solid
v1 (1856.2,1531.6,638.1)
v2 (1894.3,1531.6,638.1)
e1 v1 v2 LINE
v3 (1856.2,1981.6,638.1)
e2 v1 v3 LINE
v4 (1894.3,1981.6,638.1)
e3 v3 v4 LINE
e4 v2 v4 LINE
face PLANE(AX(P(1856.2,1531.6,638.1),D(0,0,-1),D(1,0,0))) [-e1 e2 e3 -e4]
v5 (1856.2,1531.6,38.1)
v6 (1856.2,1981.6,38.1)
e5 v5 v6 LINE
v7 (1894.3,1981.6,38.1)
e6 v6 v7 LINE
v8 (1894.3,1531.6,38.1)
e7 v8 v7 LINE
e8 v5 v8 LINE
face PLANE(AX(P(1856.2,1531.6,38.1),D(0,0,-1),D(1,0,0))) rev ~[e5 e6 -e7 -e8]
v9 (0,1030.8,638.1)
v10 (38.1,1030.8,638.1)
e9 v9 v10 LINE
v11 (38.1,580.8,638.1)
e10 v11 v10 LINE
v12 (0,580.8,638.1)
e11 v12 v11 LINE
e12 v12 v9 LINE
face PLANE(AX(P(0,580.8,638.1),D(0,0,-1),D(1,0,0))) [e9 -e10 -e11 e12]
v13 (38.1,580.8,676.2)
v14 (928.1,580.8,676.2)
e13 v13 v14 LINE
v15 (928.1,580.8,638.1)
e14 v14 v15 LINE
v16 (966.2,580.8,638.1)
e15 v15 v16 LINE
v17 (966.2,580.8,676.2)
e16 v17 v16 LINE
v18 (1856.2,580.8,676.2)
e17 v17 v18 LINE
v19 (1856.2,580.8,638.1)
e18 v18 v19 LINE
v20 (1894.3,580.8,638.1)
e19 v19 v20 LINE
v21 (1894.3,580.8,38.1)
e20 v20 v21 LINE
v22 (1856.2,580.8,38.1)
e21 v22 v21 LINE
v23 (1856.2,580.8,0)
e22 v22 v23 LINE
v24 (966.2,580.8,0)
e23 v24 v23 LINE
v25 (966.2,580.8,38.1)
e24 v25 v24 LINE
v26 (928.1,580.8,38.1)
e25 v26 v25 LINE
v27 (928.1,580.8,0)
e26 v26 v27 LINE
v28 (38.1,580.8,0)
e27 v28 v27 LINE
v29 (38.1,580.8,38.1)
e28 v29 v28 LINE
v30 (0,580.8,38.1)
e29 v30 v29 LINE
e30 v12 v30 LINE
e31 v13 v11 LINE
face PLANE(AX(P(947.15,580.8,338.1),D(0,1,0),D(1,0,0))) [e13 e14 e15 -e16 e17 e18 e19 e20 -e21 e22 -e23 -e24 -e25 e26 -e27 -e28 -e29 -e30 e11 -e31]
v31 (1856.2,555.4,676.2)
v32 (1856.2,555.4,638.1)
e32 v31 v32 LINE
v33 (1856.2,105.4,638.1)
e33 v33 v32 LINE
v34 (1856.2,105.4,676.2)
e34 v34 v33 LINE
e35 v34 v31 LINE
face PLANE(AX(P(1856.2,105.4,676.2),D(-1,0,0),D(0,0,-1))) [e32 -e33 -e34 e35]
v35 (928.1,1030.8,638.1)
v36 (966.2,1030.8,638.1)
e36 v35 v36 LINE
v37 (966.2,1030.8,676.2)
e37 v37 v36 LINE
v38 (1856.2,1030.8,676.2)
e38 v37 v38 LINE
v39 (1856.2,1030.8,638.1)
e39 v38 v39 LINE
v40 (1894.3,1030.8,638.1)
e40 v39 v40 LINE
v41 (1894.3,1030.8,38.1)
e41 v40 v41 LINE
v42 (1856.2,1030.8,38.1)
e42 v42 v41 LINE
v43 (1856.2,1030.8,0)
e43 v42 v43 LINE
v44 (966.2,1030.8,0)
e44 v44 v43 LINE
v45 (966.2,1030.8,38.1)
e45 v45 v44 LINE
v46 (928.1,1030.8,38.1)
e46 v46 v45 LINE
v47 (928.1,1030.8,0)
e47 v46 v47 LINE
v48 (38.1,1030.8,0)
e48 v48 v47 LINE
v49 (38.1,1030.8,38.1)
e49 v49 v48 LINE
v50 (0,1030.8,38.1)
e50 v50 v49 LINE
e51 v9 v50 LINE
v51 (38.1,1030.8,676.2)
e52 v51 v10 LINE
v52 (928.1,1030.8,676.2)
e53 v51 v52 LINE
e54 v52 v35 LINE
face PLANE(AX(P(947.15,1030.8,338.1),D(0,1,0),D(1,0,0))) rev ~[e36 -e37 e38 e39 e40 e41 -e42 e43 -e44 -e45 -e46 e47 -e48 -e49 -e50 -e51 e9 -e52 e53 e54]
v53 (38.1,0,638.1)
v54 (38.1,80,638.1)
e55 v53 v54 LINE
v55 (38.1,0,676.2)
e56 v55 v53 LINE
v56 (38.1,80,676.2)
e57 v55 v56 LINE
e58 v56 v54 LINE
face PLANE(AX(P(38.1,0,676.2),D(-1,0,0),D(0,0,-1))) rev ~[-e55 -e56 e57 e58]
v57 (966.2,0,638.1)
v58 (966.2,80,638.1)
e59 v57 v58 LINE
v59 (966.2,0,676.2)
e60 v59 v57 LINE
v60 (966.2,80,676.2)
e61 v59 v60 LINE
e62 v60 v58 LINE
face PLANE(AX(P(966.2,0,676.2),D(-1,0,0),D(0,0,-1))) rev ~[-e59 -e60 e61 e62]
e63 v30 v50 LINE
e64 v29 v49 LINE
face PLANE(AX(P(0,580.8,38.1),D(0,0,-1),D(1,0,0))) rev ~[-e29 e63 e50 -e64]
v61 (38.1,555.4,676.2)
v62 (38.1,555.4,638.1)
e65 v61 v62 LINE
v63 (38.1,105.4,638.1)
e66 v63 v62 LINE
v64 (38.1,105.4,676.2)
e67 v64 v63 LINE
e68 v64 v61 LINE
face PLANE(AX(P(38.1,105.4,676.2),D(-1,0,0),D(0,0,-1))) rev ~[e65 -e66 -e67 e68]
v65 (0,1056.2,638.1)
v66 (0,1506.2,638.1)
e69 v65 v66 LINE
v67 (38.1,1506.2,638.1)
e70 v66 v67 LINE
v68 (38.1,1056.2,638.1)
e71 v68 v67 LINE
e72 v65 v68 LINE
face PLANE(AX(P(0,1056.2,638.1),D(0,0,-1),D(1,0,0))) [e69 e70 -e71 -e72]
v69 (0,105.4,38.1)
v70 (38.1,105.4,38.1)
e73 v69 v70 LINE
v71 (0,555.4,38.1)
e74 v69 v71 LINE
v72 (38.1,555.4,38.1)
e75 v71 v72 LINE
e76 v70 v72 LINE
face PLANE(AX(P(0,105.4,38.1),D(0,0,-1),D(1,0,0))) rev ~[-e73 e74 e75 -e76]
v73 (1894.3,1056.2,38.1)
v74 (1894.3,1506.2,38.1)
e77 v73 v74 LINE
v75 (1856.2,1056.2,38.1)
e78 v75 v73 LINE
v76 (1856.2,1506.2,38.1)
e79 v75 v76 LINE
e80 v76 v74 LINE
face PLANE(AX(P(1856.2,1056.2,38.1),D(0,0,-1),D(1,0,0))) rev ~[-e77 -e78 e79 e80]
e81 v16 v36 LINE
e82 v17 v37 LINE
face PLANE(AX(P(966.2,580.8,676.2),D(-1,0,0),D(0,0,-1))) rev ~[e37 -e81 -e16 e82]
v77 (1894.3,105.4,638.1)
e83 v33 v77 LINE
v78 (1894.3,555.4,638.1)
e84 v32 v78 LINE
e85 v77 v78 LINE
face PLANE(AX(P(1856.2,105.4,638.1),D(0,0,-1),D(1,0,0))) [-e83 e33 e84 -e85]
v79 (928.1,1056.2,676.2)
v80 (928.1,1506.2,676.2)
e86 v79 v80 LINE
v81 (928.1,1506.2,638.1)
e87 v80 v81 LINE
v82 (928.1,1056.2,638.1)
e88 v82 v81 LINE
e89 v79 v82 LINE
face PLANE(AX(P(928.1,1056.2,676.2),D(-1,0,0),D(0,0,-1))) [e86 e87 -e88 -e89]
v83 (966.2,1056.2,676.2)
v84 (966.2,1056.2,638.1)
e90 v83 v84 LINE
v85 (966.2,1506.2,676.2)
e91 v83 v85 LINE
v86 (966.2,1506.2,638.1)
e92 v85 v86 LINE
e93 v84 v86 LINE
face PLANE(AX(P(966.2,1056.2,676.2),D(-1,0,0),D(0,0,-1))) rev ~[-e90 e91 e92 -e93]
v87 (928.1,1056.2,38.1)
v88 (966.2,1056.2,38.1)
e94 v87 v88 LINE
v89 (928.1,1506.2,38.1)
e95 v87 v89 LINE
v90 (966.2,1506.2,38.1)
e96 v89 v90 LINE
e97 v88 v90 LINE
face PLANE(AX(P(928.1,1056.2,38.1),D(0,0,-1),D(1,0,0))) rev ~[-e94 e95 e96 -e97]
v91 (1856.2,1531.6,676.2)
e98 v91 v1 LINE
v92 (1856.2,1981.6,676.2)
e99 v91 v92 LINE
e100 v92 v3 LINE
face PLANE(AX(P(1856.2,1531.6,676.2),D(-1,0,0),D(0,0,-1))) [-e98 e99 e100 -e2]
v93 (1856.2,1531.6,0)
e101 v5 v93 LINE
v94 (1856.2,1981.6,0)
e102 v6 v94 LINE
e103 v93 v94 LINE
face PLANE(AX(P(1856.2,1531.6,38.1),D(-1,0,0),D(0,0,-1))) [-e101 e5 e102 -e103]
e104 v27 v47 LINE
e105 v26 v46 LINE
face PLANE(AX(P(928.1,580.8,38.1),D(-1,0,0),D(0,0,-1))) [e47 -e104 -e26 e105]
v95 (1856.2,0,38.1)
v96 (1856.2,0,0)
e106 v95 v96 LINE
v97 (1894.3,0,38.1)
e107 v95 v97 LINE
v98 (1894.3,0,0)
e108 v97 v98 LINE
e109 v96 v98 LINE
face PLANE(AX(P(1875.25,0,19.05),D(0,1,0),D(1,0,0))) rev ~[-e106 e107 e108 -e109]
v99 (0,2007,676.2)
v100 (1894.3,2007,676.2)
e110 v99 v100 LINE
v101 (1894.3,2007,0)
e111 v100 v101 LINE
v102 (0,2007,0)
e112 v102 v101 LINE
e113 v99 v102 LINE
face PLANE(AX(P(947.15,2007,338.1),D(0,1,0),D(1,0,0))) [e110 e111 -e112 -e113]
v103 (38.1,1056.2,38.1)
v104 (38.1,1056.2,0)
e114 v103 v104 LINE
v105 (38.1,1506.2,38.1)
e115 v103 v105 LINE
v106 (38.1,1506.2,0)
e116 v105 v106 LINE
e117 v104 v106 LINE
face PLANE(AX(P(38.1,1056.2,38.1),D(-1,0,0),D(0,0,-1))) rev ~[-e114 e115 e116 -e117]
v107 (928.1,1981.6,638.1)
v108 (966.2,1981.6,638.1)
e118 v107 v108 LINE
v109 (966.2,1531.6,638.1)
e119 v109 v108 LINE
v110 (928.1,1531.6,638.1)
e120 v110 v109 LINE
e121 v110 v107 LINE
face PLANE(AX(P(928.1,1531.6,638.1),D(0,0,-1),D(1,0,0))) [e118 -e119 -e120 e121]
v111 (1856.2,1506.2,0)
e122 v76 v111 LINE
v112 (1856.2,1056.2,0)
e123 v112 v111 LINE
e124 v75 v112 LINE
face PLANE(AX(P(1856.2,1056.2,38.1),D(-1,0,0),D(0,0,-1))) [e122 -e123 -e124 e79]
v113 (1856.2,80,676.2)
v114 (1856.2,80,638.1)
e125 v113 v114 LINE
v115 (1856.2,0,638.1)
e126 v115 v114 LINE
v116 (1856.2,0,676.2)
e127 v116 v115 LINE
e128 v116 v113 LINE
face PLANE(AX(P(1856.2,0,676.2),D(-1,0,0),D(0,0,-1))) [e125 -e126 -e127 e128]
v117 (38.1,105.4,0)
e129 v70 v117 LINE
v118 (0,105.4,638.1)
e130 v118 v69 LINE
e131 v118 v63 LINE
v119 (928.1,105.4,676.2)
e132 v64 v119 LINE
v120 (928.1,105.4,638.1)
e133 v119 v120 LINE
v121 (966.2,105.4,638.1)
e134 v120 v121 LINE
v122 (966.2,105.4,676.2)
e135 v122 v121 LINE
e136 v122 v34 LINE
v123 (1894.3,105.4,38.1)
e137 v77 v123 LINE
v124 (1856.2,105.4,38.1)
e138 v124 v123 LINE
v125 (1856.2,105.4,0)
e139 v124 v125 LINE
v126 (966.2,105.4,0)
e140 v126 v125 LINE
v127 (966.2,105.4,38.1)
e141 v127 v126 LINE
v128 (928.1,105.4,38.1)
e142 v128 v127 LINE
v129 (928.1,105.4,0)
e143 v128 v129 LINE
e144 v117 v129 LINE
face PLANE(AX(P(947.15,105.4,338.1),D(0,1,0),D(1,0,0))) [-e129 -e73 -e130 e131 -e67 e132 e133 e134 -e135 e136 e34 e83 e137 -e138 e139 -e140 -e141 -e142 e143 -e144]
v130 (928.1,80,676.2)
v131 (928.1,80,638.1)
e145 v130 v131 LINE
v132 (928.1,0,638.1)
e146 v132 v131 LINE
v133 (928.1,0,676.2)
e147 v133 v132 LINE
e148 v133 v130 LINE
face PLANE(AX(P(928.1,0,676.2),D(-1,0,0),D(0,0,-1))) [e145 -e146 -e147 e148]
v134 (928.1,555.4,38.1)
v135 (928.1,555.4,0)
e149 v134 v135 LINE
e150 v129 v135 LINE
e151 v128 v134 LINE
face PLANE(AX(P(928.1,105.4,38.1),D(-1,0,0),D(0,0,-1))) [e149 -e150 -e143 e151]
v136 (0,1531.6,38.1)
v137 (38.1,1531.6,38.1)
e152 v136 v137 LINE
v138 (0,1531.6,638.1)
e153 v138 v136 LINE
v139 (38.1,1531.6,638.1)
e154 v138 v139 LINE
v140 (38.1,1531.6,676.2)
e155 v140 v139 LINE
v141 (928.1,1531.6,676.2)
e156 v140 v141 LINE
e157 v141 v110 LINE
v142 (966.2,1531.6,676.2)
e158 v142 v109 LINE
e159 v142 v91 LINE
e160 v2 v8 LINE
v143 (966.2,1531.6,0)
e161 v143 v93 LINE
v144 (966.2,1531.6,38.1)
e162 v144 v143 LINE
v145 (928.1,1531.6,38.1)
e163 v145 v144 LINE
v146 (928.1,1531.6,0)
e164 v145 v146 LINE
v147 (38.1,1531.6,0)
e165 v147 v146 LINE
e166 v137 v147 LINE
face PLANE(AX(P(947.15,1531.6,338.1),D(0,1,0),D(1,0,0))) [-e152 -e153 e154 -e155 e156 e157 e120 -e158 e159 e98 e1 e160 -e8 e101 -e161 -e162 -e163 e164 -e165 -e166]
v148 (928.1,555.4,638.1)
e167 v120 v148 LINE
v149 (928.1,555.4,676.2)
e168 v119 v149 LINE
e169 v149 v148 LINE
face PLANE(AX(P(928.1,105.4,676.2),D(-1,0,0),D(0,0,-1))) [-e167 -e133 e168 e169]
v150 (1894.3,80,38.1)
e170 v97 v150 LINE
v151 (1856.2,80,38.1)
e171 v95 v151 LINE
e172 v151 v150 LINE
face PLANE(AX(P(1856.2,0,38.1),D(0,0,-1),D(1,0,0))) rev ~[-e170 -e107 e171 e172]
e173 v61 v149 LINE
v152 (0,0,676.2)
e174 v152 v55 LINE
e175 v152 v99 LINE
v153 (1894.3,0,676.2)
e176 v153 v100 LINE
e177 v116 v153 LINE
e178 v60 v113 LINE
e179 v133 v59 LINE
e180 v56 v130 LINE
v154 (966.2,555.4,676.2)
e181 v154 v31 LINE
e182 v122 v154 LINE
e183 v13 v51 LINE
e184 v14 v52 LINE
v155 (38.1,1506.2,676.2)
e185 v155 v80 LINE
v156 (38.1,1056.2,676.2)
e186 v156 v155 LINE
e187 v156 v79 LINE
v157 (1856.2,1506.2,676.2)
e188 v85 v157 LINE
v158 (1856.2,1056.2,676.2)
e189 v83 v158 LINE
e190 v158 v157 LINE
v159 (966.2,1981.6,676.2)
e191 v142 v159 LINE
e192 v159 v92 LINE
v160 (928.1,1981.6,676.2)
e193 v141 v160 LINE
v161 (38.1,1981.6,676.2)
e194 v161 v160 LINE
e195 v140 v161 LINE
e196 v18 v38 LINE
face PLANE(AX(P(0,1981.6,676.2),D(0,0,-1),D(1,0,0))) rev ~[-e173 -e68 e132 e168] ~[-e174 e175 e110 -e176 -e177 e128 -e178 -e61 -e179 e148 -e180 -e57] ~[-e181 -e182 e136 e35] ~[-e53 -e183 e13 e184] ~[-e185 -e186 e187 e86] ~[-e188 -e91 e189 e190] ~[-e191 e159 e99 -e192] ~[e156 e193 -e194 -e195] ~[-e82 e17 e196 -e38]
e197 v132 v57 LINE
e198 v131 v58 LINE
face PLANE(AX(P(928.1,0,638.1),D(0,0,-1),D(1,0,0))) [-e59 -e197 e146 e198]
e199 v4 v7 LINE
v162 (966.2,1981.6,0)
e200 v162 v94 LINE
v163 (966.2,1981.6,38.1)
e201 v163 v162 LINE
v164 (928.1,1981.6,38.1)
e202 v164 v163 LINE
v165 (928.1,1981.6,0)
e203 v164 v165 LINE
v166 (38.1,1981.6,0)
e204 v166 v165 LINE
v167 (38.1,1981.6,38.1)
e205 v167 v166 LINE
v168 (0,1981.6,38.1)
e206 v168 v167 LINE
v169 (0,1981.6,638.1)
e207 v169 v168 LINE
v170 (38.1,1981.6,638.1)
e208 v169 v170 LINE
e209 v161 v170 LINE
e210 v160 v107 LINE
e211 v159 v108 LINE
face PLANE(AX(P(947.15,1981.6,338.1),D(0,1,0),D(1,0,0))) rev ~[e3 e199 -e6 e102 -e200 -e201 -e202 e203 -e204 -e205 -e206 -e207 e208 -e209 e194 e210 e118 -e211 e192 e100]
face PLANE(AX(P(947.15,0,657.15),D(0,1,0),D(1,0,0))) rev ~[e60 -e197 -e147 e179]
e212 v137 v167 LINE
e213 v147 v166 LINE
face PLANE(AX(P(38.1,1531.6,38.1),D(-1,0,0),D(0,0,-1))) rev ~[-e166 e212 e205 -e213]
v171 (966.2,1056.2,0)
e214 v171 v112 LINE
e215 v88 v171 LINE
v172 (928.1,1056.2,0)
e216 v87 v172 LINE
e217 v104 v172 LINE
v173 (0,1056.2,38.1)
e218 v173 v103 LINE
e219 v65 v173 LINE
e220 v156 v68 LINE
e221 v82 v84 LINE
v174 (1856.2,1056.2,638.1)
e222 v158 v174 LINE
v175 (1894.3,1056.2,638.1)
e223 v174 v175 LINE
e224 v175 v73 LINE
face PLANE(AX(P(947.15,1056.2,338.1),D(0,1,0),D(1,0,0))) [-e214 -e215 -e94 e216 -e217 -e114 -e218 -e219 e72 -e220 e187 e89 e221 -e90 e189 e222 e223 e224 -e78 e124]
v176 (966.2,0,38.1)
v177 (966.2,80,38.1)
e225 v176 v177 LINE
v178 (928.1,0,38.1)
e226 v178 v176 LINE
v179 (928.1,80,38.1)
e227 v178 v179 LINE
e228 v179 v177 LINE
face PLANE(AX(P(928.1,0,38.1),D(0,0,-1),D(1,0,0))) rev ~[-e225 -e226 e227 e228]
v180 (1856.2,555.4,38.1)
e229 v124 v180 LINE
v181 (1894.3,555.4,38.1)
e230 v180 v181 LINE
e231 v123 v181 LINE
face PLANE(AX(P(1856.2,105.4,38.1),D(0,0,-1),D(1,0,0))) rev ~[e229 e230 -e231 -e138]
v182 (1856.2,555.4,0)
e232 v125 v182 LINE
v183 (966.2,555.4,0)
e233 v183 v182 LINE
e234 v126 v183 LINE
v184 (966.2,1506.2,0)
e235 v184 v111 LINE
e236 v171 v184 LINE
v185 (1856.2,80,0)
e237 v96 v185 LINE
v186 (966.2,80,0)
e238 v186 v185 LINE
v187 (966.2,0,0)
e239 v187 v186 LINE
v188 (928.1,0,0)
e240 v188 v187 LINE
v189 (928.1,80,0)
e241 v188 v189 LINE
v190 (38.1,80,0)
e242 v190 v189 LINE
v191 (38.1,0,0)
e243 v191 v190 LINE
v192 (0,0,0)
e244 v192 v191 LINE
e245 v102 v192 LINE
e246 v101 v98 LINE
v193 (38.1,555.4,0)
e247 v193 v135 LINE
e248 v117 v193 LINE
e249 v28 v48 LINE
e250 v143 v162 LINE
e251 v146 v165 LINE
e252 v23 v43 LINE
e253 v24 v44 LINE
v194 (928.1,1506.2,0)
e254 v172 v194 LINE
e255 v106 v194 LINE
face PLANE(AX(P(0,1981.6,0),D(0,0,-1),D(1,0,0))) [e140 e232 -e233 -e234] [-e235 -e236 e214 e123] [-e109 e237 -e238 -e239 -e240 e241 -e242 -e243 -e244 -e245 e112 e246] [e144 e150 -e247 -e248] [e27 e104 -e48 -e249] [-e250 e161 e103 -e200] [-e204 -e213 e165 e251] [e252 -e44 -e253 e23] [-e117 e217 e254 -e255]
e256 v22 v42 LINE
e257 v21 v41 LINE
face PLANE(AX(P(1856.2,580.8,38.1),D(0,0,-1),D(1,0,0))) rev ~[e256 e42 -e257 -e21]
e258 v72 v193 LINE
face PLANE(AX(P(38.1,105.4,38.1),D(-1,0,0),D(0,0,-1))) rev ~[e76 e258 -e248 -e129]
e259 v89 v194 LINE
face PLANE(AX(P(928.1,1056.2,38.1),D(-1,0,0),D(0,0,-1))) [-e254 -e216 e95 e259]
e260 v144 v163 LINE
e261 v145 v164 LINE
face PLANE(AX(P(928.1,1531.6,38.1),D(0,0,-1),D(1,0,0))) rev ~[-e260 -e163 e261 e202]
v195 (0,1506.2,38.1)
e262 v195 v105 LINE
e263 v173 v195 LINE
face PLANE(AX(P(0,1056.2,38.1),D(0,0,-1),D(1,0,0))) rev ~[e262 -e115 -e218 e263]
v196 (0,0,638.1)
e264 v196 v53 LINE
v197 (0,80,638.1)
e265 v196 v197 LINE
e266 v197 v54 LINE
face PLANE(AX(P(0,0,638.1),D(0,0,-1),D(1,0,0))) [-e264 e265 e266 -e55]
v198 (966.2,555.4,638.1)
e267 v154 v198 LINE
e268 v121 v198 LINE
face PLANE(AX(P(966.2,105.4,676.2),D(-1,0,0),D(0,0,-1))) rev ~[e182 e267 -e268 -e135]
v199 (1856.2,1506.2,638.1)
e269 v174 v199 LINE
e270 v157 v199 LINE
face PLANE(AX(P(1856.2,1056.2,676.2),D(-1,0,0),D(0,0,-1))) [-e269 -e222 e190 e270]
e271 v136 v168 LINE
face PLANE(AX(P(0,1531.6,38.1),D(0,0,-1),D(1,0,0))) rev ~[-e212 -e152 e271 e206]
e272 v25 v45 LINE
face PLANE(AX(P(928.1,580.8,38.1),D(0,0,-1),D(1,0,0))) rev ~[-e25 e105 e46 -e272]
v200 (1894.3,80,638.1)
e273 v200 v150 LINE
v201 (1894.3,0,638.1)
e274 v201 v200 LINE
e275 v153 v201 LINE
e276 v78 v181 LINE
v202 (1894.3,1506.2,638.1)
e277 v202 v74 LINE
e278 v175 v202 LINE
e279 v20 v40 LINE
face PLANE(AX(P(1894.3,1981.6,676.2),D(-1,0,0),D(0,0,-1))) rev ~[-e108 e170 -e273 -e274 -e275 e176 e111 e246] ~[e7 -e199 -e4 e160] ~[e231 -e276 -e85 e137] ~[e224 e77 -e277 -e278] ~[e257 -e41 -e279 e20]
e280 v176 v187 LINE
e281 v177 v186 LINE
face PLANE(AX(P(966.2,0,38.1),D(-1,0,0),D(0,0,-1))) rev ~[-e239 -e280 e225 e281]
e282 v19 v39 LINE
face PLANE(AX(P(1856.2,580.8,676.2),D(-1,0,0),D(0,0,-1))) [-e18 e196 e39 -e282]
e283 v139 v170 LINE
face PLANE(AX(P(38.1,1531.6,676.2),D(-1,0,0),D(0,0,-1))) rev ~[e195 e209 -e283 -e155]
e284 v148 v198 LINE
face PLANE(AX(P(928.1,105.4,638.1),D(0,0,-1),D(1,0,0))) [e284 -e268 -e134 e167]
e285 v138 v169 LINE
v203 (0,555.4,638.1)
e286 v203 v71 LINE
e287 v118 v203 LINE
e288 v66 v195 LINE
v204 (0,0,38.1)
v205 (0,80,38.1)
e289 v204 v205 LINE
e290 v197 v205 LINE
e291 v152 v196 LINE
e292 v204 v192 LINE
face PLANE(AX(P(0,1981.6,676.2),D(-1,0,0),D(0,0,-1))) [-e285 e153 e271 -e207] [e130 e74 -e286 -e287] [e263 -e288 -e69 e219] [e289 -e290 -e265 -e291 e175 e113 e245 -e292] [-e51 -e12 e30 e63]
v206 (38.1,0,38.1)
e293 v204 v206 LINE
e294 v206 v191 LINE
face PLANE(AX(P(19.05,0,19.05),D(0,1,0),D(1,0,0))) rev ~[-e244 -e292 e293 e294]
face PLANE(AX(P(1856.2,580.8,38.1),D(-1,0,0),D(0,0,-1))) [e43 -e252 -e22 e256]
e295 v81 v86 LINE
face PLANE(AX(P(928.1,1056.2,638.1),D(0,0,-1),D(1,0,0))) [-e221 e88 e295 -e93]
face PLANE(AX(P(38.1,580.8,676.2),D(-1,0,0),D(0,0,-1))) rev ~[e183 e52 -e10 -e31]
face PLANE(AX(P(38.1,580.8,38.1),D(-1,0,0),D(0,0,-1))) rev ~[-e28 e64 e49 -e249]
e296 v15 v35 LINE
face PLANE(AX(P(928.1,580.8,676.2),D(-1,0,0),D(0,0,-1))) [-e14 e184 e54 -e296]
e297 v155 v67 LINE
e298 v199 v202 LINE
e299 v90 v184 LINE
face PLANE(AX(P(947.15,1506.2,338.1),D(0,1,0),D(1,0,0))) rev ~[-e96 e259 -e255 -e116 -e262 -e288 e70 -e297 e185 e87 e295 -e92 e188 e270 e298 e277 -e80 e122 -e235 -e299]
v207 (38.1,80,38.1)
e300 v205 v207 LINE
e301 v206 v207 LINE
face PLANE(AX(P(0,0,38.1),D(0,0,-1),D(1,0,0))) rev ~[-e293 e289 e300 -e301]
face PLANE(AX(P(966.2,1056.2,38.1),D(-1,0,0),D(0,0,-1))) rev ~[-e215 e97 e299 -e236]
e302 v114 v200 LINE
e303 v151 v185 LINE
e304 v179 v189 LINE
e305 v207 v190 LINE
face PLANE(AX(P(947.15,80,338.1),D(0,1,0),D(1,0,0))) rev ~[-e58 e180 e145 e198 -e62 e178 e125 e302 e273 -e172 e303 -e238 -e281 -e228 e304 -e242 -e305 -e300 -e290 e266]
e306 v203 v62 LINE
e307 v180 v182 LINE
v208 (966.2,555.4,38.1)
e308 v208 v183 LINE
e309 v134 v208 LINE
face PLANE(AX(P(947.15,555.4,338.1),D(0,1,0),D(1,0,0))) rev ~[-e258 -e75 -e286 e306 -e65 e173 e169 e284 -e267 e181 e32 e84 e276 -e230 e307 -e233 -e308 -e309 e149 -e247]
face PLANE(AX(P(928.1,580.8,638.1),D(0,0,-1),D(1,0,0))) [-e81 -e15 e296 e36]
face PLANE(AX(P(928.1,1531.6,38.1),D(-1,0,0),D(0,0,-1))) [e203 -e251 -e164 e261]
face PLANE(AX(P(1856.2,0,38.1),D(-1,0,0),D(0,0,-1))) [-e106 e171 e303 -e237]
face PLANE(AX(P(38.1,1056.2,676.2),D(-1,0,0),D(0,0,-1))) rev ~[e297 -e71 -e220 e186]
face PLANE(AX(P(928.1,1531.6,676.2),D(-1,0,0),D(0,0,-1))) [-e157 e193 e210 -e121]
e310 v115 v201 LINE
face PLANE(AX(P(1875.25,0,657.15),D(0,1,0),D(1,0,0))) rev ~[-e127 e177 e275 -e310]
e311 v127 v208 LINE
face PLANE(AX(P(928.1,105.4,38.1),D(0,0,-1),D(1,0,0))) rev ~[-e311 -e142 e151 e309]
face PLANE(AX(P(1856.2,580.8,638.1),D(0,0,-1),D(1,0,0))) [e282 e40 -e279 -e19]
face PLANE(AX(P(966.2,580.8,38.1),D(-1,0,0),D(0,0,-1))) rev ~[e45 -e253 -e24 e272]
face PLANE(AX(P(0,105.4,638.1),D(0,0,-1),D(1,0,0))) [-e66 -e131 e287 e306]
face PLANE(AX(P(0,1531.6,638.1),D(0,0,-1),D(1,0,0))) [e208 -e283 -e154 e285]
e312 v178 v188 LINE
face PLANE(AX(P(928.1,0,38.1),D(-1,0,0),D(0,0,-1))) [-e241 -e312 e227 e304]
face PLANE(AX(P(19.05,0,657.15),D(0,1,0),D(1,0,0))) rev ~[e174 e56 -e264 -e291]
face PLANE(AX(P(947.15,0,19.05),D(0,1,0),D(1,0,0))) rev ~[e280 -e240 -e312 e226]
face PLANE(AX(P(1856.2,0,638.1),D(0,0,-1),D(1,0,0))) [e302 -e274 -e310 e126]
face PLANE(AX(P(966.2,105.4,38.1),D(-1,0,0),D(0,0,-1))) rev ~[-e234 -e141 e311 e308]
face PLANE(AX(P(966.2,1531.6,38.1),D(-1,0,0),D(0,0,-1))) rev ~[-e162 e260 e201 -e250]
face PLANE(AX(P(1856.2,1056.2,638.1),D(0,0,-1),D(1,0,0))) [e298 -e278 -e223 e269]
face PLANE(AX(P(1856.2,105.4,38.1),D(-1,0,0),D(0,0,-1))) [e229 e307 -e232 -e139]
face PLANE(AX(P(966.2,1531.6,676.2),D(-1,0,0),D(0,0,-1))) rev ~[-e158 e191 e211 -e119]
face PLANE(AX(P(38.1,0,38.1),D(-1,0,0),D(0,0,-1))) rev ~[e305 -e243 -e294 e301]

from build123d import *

# Parameters (mm, degrees)
CROQUIS1_W                = 38.1
CROQUIS1_H                = 38.1
SALIENTE_EXTRUIR1_DEPTH   = 80
SALIENTE_EXTRUIR1_2_DEPTH = 80
SALIENTE_EXTRUIR1_3_DEPTH = 80
SALIENTE_EXTRUIR1_4_DEPTH = 80
SALIENTE_EXTRUIR1_5_DEPTH = 80
SALIENTE_EXTRUIR1_6_DEPTH = 80
CROQUIS2_W                = 1894.3
CROQUIS2_H                = 676.2
SALIENTE_EXTRUIR2_DEPTH   = 25.4
CROQUIS3_W                = 38.1
CROQUIS3_H                = 38.1
SALIENTE_EXTRUIR3_DEPTH   = 450
CROQUIS4_W                = 1894.3
CROQUIS4_H                = 676.2
SALIENTE_EXTRUIR4_DEPTH   = 25.4
CROQUIS5_W                = 38.1
CROQUIS5_H                = 38.1
SALIENTE_EXTRUIR5_DEPTH   = 450
CROQUIS6_W                = 1894.3
CROQUIS6_H                = 676.2
SALIENTE_EXTRUIR6_DEPTH   = 25.4
CROQUIS7_W                = 38.1
CROQUIS7_H                = 38.1
SALIENTE_EXTRUIR7_DEPTH   = 450
CROQUIS8_W                = 1894.3
CROQUIS8_H                = 676.2
SALIENTE_EXTRUIR8_DEPTH   = 25.4
CROQUIS9_W                = 38.1
CROQUIS9_H                = 38.1
SALIENTE_EXTRUIR9_DEPTH   = 450
CROQUIS10_W               = 1894.3
CROQUIS10_H               = 676.2
SALIENTE_EXTRUIR10_DEPTH  = 25.4


with BuildPart() as part:
    # Croquis1 → Saliente-Extruir1 (new body)
    with BuildSketch(Plane(origin=(0, 0, 0), x_dir=(1, 0, 0), z_dir=(0, 1, 0))):
        with Locations((19.05, -19.05)):
            Rectangle(CROQUIS1_W, CROQUIS1_H)
    extrude(amount=SALIENTE_EXTRUIR1_DEPTH)



with BuildPart() as body_2:
    # Croquis1 → Saliente-Extruir1 2 (new body)
    with BuildSketch(Plane(origin=(0, 0, 0), x_dir=(1, 0, 0), z_dir=(0, 1, 0))):
        with Locations((947.15, -19.05)):
            Rectangle(CROQUIS1_W, CROQUIS1_H)
    extrude(amount=SALIENTE_EXTRUIR1_2_DEPTH)


with BuildPart() as body_3:
    # Croquis1 → Saliente-Extruir1 3 (new body)
    with BuildSketch(Plane(origin=(0, 0, 0), x_dir=(1, 0, 0), z_dir=(0, 1, 0))):
        with Locations((1875.25, -19.05)):
            Rectangle(CROQUIS1_W, CROQUIS1_H)
    extrude(amount=SALIENTE_EXTRUIR1_3_DEPTH)


with BuildPart() as body_4:
    # Croquis1 → Saliente-Extruir1 4 (new body)
    with BuildSketch(Plane(origin=(0, 0, 0), x_dir=(1, 0, 0), z_dir=(0, 1, 0))):
        with Locations((1875.25, -657.15)):
            Rectangle(CROQUIS1_W, CROQUIS1_H)
    extrude(amount=SALIENTE_EXTRUIR1_4_DEPTH)


with BuildPart() as body_5:
    # Croquis1 → Saliente-Extruir1 5 (new body)
    with BuildSketch(Plane(origin=(0, 0, 0), x_dir=(1, 0, 0), z_dir=(0, 1, 0))):
        with Locations((947.15, -657.15)):
            Rectangle(CROQUIS1_W, CROQUIS1_H)
    extrude(amount=SALIENTE_EXTRUIR1_5_DEPTH)


with BuildPart() as body_6:
    # Croquis1 → Saliente-Extruir1 6 (new body)
    with BuildSketch(Plane(origin=(0, 0, 0), x_dir=(1, 0, 0), z_dir=(0, 1, 0))):
        with Locations((19.05, -657.15)):
            Rectangle(CROQUIS1_W, CROQUIS1_H)
    extrude(amount=SALIENTE_EXTRUIR1_6_DEPTH)


with BuildPart() as part_1:
    add(part.part)

    add(body_2.part)  # Saliente-Extruir2 merges body 2

    add(body_3.part)  # Saliente-Extruir2 merges body 3

    add(body_4.part)  # Saliente-Extruir2 merges body 4

    add(body_5.part)  # Saliente-Extruir2 merges body 5

    add(body_6.part)  # Saliente-Extruir2 merges body 6
    # Croquis2 → Saliente-Extruir2 (add)
    with BuildSketch(Plane(origin=(0, 80, 0), x_dir=(1, 0, 0), z_dir=(0, 1, 0))):
        with Locations((947.15, -338.1)):
            Rectangle(CROQUIS2_W, CROQUIS2_H)
    extrude(amount=SALIENTE_EXTRUIR2_DEPTH)

    # Croquis3 → Saliente-Extruir3 (add)
    with BuildSketch(Plane(origin=(0, 105.4, 0), x_dir=(1, 0, 0), z_dir=(0, 1, 0))):
        with Locations((19.05, -19.05)):
            Rectangle(CROQUIS3_W, CROQUIS3_H)
        with Locations((947.15, -19.05)):
            Rectangle(CROQUIS3_W, CROQUIS3_H)
        with Locations((1875.25, -19.05)):
            Rectangle(CROQUIS3_W, CROQUIS3_H)
        with Locations((1875.25, -657.15)):
            Rectangle(CROQUIS3_W, CROQUIS3_H)
        with Locations((947.15, -657.15)):
            Rectangle(CROQUIS3_W, CROQUIS3_H)
        with Locations((19.05, -657.15)):
            Rectangle(CROQUIS3_W, CROQUIS3_H)
    extrude(amount=SALIENTE_EXTRUIR3_DEPTH)

    # Croquis4 → Saliente-Extruir4 (add)
    with BuildSketch(Plane(origin=(0, 555.4, 0), x_dir=(1, 0, 0), z_dir=(0, 1, 0))):
        with Locations((947.15, -338.1)):
            Rectangle(CROQUIS4_W, CROQUIS4_H)
    extrude(amount=SALIENTE_EXTRUIR4_DEPTH)

    # Croquis5 → Saliente-Extruir5 (add)
    with BuildSketch(Plane(origin=(0, 580.8, 0), x_dir=(1, 0, 0), z_dir=(0, 1, 0))):
        with Locations((19.05, -19.05)):
            Rectangle(CROQUIS5_W, CROQUIS5_H)
        with Locations((947.15, -19.05)):
            Rectangle(CROQUIS5_W, CROQUIS5_H)
        with Locations((1875.25, -19.05)):
            Rectangle(CROQUIS5_W, CROQUIS5_H)
        with Locations((1875.25, -657.15)):
            Rectangle(CROQUIS5_W, CROQUIS5_H)
        with Locations((947.15, -657.15)):
            Rectangle(CROQUIS5_W, CROQUIS5_H)
        with Locations((19.05, -657.15)):
            Rectangle(CROQUIS5_W, CROQUIS5_H)
    extrude(amount=SALIENTE_EXTRUIR5_DEPTH)

    # Croquis6 → Saliente-Extruir6 (add)
    with BuildSketch(Plane(origin=(0, 1030.8, 0), x_dir=(1, 0, 0), z_dir=(0, 1, 0))):
        with Locations((947.15, -338.1)):
            Rectangle(CROQUIS6_W, CROQUIS6_H)
    extrude(amount=SALIENTE_EXTRUIR6_DEPTH)

    # Croquis7 → Saliente-Extruir7 (add)
    with BuildSketch(Plane(origin=(0, 1056.2, 0), x_dir=(1, 0, 0), z_dir=(0, 1, 0))):
        with Locations((19.05, -19.05)):
            Rectangle(CROQUIS7_W, CROQUIS7_H)
        with Locations((947.15, -19.05)):
            Rectangle(CROQUIS7_W, CROQUIS7_H)
        with Locations((1875.25, -19.05)):
            Rectangle(CROQUIS7_W, CROQUIS7_H)
        with Locations((1875.25, -657.15)):
            Rectangle(CROQUIS7_W, CROQUIS7_H)
        with Locations((947.15, -657.15)):
            Rectangle(CROQUIS7_W, CROQUIS7_H)
        with Locations((19.05, -657.15)):
            Rectangle(CROQUIS7_W, CROQUIS7_H)
    extrude(amount=SALIENTE_EXTRUIR7_DEPTH)

    # Croquis8 → Saliente-Extruir8 (add)
    with BuildSketch(Plane(origin=(0, 1506.2, 0), x_dir=(1, 0, 0), z_dir=(0, 1, 0))):
        with Locations((947.15, -338.1)):
            Rectangle(CROQUIS8_W, CROQUIS8_H)
    extrude(amount=SALIENTE_EXTRUIR8_DEPTH)

    # Croquis9 → Saliente-Extruir9 (add)
    with BuildSketch(Plane(origin=(0, 1531.6, 0), x_dir=(1, 0, 0), z_dir=(0, 1, 0))):
        with Locations((19.05, -19.05)):
            Rectangle(CROQUIS9_W, CROQUIS9_H)
        with Locations((947.15, -19.05)):
            Rectangle(CROQUIS9_W, CROQUIS9_H)
        with Locations((1875.25, -19.05)):
            Rectangle(CROQUIS9_W, CROQUIS9_H)
        with Locations((1875.25, -657.15)):
            Rectangle(CROQUIS9_W, CROQUIS9_H)
        with Locations((947.15, -657.15)):
            Rectangle(CROQUIS9_W, CROQUIS9_H)
        with Locations((19.05, -657.15)):
            Rectangle(CROQUIS9_W, CROQUIS9_H)
    extrude(amount=SALIENTE_EXTRUIR9_DEPTH)

    # Croquis10 → Saliente-Extruir10 (add)
    with BuildSketch(Plane(origin=(0, 1981.6, 0), x_dir=(1, 0, 0), z_dir=(0, 1, 0))):
        with Locations((947.15, -338.1)):
            Rectangle(CROQUIS10_W, CROQUIS10_H)
    extrude(amount=SALIENTE_EXTRUIR10_DEPTH)


solid = part_1.part
